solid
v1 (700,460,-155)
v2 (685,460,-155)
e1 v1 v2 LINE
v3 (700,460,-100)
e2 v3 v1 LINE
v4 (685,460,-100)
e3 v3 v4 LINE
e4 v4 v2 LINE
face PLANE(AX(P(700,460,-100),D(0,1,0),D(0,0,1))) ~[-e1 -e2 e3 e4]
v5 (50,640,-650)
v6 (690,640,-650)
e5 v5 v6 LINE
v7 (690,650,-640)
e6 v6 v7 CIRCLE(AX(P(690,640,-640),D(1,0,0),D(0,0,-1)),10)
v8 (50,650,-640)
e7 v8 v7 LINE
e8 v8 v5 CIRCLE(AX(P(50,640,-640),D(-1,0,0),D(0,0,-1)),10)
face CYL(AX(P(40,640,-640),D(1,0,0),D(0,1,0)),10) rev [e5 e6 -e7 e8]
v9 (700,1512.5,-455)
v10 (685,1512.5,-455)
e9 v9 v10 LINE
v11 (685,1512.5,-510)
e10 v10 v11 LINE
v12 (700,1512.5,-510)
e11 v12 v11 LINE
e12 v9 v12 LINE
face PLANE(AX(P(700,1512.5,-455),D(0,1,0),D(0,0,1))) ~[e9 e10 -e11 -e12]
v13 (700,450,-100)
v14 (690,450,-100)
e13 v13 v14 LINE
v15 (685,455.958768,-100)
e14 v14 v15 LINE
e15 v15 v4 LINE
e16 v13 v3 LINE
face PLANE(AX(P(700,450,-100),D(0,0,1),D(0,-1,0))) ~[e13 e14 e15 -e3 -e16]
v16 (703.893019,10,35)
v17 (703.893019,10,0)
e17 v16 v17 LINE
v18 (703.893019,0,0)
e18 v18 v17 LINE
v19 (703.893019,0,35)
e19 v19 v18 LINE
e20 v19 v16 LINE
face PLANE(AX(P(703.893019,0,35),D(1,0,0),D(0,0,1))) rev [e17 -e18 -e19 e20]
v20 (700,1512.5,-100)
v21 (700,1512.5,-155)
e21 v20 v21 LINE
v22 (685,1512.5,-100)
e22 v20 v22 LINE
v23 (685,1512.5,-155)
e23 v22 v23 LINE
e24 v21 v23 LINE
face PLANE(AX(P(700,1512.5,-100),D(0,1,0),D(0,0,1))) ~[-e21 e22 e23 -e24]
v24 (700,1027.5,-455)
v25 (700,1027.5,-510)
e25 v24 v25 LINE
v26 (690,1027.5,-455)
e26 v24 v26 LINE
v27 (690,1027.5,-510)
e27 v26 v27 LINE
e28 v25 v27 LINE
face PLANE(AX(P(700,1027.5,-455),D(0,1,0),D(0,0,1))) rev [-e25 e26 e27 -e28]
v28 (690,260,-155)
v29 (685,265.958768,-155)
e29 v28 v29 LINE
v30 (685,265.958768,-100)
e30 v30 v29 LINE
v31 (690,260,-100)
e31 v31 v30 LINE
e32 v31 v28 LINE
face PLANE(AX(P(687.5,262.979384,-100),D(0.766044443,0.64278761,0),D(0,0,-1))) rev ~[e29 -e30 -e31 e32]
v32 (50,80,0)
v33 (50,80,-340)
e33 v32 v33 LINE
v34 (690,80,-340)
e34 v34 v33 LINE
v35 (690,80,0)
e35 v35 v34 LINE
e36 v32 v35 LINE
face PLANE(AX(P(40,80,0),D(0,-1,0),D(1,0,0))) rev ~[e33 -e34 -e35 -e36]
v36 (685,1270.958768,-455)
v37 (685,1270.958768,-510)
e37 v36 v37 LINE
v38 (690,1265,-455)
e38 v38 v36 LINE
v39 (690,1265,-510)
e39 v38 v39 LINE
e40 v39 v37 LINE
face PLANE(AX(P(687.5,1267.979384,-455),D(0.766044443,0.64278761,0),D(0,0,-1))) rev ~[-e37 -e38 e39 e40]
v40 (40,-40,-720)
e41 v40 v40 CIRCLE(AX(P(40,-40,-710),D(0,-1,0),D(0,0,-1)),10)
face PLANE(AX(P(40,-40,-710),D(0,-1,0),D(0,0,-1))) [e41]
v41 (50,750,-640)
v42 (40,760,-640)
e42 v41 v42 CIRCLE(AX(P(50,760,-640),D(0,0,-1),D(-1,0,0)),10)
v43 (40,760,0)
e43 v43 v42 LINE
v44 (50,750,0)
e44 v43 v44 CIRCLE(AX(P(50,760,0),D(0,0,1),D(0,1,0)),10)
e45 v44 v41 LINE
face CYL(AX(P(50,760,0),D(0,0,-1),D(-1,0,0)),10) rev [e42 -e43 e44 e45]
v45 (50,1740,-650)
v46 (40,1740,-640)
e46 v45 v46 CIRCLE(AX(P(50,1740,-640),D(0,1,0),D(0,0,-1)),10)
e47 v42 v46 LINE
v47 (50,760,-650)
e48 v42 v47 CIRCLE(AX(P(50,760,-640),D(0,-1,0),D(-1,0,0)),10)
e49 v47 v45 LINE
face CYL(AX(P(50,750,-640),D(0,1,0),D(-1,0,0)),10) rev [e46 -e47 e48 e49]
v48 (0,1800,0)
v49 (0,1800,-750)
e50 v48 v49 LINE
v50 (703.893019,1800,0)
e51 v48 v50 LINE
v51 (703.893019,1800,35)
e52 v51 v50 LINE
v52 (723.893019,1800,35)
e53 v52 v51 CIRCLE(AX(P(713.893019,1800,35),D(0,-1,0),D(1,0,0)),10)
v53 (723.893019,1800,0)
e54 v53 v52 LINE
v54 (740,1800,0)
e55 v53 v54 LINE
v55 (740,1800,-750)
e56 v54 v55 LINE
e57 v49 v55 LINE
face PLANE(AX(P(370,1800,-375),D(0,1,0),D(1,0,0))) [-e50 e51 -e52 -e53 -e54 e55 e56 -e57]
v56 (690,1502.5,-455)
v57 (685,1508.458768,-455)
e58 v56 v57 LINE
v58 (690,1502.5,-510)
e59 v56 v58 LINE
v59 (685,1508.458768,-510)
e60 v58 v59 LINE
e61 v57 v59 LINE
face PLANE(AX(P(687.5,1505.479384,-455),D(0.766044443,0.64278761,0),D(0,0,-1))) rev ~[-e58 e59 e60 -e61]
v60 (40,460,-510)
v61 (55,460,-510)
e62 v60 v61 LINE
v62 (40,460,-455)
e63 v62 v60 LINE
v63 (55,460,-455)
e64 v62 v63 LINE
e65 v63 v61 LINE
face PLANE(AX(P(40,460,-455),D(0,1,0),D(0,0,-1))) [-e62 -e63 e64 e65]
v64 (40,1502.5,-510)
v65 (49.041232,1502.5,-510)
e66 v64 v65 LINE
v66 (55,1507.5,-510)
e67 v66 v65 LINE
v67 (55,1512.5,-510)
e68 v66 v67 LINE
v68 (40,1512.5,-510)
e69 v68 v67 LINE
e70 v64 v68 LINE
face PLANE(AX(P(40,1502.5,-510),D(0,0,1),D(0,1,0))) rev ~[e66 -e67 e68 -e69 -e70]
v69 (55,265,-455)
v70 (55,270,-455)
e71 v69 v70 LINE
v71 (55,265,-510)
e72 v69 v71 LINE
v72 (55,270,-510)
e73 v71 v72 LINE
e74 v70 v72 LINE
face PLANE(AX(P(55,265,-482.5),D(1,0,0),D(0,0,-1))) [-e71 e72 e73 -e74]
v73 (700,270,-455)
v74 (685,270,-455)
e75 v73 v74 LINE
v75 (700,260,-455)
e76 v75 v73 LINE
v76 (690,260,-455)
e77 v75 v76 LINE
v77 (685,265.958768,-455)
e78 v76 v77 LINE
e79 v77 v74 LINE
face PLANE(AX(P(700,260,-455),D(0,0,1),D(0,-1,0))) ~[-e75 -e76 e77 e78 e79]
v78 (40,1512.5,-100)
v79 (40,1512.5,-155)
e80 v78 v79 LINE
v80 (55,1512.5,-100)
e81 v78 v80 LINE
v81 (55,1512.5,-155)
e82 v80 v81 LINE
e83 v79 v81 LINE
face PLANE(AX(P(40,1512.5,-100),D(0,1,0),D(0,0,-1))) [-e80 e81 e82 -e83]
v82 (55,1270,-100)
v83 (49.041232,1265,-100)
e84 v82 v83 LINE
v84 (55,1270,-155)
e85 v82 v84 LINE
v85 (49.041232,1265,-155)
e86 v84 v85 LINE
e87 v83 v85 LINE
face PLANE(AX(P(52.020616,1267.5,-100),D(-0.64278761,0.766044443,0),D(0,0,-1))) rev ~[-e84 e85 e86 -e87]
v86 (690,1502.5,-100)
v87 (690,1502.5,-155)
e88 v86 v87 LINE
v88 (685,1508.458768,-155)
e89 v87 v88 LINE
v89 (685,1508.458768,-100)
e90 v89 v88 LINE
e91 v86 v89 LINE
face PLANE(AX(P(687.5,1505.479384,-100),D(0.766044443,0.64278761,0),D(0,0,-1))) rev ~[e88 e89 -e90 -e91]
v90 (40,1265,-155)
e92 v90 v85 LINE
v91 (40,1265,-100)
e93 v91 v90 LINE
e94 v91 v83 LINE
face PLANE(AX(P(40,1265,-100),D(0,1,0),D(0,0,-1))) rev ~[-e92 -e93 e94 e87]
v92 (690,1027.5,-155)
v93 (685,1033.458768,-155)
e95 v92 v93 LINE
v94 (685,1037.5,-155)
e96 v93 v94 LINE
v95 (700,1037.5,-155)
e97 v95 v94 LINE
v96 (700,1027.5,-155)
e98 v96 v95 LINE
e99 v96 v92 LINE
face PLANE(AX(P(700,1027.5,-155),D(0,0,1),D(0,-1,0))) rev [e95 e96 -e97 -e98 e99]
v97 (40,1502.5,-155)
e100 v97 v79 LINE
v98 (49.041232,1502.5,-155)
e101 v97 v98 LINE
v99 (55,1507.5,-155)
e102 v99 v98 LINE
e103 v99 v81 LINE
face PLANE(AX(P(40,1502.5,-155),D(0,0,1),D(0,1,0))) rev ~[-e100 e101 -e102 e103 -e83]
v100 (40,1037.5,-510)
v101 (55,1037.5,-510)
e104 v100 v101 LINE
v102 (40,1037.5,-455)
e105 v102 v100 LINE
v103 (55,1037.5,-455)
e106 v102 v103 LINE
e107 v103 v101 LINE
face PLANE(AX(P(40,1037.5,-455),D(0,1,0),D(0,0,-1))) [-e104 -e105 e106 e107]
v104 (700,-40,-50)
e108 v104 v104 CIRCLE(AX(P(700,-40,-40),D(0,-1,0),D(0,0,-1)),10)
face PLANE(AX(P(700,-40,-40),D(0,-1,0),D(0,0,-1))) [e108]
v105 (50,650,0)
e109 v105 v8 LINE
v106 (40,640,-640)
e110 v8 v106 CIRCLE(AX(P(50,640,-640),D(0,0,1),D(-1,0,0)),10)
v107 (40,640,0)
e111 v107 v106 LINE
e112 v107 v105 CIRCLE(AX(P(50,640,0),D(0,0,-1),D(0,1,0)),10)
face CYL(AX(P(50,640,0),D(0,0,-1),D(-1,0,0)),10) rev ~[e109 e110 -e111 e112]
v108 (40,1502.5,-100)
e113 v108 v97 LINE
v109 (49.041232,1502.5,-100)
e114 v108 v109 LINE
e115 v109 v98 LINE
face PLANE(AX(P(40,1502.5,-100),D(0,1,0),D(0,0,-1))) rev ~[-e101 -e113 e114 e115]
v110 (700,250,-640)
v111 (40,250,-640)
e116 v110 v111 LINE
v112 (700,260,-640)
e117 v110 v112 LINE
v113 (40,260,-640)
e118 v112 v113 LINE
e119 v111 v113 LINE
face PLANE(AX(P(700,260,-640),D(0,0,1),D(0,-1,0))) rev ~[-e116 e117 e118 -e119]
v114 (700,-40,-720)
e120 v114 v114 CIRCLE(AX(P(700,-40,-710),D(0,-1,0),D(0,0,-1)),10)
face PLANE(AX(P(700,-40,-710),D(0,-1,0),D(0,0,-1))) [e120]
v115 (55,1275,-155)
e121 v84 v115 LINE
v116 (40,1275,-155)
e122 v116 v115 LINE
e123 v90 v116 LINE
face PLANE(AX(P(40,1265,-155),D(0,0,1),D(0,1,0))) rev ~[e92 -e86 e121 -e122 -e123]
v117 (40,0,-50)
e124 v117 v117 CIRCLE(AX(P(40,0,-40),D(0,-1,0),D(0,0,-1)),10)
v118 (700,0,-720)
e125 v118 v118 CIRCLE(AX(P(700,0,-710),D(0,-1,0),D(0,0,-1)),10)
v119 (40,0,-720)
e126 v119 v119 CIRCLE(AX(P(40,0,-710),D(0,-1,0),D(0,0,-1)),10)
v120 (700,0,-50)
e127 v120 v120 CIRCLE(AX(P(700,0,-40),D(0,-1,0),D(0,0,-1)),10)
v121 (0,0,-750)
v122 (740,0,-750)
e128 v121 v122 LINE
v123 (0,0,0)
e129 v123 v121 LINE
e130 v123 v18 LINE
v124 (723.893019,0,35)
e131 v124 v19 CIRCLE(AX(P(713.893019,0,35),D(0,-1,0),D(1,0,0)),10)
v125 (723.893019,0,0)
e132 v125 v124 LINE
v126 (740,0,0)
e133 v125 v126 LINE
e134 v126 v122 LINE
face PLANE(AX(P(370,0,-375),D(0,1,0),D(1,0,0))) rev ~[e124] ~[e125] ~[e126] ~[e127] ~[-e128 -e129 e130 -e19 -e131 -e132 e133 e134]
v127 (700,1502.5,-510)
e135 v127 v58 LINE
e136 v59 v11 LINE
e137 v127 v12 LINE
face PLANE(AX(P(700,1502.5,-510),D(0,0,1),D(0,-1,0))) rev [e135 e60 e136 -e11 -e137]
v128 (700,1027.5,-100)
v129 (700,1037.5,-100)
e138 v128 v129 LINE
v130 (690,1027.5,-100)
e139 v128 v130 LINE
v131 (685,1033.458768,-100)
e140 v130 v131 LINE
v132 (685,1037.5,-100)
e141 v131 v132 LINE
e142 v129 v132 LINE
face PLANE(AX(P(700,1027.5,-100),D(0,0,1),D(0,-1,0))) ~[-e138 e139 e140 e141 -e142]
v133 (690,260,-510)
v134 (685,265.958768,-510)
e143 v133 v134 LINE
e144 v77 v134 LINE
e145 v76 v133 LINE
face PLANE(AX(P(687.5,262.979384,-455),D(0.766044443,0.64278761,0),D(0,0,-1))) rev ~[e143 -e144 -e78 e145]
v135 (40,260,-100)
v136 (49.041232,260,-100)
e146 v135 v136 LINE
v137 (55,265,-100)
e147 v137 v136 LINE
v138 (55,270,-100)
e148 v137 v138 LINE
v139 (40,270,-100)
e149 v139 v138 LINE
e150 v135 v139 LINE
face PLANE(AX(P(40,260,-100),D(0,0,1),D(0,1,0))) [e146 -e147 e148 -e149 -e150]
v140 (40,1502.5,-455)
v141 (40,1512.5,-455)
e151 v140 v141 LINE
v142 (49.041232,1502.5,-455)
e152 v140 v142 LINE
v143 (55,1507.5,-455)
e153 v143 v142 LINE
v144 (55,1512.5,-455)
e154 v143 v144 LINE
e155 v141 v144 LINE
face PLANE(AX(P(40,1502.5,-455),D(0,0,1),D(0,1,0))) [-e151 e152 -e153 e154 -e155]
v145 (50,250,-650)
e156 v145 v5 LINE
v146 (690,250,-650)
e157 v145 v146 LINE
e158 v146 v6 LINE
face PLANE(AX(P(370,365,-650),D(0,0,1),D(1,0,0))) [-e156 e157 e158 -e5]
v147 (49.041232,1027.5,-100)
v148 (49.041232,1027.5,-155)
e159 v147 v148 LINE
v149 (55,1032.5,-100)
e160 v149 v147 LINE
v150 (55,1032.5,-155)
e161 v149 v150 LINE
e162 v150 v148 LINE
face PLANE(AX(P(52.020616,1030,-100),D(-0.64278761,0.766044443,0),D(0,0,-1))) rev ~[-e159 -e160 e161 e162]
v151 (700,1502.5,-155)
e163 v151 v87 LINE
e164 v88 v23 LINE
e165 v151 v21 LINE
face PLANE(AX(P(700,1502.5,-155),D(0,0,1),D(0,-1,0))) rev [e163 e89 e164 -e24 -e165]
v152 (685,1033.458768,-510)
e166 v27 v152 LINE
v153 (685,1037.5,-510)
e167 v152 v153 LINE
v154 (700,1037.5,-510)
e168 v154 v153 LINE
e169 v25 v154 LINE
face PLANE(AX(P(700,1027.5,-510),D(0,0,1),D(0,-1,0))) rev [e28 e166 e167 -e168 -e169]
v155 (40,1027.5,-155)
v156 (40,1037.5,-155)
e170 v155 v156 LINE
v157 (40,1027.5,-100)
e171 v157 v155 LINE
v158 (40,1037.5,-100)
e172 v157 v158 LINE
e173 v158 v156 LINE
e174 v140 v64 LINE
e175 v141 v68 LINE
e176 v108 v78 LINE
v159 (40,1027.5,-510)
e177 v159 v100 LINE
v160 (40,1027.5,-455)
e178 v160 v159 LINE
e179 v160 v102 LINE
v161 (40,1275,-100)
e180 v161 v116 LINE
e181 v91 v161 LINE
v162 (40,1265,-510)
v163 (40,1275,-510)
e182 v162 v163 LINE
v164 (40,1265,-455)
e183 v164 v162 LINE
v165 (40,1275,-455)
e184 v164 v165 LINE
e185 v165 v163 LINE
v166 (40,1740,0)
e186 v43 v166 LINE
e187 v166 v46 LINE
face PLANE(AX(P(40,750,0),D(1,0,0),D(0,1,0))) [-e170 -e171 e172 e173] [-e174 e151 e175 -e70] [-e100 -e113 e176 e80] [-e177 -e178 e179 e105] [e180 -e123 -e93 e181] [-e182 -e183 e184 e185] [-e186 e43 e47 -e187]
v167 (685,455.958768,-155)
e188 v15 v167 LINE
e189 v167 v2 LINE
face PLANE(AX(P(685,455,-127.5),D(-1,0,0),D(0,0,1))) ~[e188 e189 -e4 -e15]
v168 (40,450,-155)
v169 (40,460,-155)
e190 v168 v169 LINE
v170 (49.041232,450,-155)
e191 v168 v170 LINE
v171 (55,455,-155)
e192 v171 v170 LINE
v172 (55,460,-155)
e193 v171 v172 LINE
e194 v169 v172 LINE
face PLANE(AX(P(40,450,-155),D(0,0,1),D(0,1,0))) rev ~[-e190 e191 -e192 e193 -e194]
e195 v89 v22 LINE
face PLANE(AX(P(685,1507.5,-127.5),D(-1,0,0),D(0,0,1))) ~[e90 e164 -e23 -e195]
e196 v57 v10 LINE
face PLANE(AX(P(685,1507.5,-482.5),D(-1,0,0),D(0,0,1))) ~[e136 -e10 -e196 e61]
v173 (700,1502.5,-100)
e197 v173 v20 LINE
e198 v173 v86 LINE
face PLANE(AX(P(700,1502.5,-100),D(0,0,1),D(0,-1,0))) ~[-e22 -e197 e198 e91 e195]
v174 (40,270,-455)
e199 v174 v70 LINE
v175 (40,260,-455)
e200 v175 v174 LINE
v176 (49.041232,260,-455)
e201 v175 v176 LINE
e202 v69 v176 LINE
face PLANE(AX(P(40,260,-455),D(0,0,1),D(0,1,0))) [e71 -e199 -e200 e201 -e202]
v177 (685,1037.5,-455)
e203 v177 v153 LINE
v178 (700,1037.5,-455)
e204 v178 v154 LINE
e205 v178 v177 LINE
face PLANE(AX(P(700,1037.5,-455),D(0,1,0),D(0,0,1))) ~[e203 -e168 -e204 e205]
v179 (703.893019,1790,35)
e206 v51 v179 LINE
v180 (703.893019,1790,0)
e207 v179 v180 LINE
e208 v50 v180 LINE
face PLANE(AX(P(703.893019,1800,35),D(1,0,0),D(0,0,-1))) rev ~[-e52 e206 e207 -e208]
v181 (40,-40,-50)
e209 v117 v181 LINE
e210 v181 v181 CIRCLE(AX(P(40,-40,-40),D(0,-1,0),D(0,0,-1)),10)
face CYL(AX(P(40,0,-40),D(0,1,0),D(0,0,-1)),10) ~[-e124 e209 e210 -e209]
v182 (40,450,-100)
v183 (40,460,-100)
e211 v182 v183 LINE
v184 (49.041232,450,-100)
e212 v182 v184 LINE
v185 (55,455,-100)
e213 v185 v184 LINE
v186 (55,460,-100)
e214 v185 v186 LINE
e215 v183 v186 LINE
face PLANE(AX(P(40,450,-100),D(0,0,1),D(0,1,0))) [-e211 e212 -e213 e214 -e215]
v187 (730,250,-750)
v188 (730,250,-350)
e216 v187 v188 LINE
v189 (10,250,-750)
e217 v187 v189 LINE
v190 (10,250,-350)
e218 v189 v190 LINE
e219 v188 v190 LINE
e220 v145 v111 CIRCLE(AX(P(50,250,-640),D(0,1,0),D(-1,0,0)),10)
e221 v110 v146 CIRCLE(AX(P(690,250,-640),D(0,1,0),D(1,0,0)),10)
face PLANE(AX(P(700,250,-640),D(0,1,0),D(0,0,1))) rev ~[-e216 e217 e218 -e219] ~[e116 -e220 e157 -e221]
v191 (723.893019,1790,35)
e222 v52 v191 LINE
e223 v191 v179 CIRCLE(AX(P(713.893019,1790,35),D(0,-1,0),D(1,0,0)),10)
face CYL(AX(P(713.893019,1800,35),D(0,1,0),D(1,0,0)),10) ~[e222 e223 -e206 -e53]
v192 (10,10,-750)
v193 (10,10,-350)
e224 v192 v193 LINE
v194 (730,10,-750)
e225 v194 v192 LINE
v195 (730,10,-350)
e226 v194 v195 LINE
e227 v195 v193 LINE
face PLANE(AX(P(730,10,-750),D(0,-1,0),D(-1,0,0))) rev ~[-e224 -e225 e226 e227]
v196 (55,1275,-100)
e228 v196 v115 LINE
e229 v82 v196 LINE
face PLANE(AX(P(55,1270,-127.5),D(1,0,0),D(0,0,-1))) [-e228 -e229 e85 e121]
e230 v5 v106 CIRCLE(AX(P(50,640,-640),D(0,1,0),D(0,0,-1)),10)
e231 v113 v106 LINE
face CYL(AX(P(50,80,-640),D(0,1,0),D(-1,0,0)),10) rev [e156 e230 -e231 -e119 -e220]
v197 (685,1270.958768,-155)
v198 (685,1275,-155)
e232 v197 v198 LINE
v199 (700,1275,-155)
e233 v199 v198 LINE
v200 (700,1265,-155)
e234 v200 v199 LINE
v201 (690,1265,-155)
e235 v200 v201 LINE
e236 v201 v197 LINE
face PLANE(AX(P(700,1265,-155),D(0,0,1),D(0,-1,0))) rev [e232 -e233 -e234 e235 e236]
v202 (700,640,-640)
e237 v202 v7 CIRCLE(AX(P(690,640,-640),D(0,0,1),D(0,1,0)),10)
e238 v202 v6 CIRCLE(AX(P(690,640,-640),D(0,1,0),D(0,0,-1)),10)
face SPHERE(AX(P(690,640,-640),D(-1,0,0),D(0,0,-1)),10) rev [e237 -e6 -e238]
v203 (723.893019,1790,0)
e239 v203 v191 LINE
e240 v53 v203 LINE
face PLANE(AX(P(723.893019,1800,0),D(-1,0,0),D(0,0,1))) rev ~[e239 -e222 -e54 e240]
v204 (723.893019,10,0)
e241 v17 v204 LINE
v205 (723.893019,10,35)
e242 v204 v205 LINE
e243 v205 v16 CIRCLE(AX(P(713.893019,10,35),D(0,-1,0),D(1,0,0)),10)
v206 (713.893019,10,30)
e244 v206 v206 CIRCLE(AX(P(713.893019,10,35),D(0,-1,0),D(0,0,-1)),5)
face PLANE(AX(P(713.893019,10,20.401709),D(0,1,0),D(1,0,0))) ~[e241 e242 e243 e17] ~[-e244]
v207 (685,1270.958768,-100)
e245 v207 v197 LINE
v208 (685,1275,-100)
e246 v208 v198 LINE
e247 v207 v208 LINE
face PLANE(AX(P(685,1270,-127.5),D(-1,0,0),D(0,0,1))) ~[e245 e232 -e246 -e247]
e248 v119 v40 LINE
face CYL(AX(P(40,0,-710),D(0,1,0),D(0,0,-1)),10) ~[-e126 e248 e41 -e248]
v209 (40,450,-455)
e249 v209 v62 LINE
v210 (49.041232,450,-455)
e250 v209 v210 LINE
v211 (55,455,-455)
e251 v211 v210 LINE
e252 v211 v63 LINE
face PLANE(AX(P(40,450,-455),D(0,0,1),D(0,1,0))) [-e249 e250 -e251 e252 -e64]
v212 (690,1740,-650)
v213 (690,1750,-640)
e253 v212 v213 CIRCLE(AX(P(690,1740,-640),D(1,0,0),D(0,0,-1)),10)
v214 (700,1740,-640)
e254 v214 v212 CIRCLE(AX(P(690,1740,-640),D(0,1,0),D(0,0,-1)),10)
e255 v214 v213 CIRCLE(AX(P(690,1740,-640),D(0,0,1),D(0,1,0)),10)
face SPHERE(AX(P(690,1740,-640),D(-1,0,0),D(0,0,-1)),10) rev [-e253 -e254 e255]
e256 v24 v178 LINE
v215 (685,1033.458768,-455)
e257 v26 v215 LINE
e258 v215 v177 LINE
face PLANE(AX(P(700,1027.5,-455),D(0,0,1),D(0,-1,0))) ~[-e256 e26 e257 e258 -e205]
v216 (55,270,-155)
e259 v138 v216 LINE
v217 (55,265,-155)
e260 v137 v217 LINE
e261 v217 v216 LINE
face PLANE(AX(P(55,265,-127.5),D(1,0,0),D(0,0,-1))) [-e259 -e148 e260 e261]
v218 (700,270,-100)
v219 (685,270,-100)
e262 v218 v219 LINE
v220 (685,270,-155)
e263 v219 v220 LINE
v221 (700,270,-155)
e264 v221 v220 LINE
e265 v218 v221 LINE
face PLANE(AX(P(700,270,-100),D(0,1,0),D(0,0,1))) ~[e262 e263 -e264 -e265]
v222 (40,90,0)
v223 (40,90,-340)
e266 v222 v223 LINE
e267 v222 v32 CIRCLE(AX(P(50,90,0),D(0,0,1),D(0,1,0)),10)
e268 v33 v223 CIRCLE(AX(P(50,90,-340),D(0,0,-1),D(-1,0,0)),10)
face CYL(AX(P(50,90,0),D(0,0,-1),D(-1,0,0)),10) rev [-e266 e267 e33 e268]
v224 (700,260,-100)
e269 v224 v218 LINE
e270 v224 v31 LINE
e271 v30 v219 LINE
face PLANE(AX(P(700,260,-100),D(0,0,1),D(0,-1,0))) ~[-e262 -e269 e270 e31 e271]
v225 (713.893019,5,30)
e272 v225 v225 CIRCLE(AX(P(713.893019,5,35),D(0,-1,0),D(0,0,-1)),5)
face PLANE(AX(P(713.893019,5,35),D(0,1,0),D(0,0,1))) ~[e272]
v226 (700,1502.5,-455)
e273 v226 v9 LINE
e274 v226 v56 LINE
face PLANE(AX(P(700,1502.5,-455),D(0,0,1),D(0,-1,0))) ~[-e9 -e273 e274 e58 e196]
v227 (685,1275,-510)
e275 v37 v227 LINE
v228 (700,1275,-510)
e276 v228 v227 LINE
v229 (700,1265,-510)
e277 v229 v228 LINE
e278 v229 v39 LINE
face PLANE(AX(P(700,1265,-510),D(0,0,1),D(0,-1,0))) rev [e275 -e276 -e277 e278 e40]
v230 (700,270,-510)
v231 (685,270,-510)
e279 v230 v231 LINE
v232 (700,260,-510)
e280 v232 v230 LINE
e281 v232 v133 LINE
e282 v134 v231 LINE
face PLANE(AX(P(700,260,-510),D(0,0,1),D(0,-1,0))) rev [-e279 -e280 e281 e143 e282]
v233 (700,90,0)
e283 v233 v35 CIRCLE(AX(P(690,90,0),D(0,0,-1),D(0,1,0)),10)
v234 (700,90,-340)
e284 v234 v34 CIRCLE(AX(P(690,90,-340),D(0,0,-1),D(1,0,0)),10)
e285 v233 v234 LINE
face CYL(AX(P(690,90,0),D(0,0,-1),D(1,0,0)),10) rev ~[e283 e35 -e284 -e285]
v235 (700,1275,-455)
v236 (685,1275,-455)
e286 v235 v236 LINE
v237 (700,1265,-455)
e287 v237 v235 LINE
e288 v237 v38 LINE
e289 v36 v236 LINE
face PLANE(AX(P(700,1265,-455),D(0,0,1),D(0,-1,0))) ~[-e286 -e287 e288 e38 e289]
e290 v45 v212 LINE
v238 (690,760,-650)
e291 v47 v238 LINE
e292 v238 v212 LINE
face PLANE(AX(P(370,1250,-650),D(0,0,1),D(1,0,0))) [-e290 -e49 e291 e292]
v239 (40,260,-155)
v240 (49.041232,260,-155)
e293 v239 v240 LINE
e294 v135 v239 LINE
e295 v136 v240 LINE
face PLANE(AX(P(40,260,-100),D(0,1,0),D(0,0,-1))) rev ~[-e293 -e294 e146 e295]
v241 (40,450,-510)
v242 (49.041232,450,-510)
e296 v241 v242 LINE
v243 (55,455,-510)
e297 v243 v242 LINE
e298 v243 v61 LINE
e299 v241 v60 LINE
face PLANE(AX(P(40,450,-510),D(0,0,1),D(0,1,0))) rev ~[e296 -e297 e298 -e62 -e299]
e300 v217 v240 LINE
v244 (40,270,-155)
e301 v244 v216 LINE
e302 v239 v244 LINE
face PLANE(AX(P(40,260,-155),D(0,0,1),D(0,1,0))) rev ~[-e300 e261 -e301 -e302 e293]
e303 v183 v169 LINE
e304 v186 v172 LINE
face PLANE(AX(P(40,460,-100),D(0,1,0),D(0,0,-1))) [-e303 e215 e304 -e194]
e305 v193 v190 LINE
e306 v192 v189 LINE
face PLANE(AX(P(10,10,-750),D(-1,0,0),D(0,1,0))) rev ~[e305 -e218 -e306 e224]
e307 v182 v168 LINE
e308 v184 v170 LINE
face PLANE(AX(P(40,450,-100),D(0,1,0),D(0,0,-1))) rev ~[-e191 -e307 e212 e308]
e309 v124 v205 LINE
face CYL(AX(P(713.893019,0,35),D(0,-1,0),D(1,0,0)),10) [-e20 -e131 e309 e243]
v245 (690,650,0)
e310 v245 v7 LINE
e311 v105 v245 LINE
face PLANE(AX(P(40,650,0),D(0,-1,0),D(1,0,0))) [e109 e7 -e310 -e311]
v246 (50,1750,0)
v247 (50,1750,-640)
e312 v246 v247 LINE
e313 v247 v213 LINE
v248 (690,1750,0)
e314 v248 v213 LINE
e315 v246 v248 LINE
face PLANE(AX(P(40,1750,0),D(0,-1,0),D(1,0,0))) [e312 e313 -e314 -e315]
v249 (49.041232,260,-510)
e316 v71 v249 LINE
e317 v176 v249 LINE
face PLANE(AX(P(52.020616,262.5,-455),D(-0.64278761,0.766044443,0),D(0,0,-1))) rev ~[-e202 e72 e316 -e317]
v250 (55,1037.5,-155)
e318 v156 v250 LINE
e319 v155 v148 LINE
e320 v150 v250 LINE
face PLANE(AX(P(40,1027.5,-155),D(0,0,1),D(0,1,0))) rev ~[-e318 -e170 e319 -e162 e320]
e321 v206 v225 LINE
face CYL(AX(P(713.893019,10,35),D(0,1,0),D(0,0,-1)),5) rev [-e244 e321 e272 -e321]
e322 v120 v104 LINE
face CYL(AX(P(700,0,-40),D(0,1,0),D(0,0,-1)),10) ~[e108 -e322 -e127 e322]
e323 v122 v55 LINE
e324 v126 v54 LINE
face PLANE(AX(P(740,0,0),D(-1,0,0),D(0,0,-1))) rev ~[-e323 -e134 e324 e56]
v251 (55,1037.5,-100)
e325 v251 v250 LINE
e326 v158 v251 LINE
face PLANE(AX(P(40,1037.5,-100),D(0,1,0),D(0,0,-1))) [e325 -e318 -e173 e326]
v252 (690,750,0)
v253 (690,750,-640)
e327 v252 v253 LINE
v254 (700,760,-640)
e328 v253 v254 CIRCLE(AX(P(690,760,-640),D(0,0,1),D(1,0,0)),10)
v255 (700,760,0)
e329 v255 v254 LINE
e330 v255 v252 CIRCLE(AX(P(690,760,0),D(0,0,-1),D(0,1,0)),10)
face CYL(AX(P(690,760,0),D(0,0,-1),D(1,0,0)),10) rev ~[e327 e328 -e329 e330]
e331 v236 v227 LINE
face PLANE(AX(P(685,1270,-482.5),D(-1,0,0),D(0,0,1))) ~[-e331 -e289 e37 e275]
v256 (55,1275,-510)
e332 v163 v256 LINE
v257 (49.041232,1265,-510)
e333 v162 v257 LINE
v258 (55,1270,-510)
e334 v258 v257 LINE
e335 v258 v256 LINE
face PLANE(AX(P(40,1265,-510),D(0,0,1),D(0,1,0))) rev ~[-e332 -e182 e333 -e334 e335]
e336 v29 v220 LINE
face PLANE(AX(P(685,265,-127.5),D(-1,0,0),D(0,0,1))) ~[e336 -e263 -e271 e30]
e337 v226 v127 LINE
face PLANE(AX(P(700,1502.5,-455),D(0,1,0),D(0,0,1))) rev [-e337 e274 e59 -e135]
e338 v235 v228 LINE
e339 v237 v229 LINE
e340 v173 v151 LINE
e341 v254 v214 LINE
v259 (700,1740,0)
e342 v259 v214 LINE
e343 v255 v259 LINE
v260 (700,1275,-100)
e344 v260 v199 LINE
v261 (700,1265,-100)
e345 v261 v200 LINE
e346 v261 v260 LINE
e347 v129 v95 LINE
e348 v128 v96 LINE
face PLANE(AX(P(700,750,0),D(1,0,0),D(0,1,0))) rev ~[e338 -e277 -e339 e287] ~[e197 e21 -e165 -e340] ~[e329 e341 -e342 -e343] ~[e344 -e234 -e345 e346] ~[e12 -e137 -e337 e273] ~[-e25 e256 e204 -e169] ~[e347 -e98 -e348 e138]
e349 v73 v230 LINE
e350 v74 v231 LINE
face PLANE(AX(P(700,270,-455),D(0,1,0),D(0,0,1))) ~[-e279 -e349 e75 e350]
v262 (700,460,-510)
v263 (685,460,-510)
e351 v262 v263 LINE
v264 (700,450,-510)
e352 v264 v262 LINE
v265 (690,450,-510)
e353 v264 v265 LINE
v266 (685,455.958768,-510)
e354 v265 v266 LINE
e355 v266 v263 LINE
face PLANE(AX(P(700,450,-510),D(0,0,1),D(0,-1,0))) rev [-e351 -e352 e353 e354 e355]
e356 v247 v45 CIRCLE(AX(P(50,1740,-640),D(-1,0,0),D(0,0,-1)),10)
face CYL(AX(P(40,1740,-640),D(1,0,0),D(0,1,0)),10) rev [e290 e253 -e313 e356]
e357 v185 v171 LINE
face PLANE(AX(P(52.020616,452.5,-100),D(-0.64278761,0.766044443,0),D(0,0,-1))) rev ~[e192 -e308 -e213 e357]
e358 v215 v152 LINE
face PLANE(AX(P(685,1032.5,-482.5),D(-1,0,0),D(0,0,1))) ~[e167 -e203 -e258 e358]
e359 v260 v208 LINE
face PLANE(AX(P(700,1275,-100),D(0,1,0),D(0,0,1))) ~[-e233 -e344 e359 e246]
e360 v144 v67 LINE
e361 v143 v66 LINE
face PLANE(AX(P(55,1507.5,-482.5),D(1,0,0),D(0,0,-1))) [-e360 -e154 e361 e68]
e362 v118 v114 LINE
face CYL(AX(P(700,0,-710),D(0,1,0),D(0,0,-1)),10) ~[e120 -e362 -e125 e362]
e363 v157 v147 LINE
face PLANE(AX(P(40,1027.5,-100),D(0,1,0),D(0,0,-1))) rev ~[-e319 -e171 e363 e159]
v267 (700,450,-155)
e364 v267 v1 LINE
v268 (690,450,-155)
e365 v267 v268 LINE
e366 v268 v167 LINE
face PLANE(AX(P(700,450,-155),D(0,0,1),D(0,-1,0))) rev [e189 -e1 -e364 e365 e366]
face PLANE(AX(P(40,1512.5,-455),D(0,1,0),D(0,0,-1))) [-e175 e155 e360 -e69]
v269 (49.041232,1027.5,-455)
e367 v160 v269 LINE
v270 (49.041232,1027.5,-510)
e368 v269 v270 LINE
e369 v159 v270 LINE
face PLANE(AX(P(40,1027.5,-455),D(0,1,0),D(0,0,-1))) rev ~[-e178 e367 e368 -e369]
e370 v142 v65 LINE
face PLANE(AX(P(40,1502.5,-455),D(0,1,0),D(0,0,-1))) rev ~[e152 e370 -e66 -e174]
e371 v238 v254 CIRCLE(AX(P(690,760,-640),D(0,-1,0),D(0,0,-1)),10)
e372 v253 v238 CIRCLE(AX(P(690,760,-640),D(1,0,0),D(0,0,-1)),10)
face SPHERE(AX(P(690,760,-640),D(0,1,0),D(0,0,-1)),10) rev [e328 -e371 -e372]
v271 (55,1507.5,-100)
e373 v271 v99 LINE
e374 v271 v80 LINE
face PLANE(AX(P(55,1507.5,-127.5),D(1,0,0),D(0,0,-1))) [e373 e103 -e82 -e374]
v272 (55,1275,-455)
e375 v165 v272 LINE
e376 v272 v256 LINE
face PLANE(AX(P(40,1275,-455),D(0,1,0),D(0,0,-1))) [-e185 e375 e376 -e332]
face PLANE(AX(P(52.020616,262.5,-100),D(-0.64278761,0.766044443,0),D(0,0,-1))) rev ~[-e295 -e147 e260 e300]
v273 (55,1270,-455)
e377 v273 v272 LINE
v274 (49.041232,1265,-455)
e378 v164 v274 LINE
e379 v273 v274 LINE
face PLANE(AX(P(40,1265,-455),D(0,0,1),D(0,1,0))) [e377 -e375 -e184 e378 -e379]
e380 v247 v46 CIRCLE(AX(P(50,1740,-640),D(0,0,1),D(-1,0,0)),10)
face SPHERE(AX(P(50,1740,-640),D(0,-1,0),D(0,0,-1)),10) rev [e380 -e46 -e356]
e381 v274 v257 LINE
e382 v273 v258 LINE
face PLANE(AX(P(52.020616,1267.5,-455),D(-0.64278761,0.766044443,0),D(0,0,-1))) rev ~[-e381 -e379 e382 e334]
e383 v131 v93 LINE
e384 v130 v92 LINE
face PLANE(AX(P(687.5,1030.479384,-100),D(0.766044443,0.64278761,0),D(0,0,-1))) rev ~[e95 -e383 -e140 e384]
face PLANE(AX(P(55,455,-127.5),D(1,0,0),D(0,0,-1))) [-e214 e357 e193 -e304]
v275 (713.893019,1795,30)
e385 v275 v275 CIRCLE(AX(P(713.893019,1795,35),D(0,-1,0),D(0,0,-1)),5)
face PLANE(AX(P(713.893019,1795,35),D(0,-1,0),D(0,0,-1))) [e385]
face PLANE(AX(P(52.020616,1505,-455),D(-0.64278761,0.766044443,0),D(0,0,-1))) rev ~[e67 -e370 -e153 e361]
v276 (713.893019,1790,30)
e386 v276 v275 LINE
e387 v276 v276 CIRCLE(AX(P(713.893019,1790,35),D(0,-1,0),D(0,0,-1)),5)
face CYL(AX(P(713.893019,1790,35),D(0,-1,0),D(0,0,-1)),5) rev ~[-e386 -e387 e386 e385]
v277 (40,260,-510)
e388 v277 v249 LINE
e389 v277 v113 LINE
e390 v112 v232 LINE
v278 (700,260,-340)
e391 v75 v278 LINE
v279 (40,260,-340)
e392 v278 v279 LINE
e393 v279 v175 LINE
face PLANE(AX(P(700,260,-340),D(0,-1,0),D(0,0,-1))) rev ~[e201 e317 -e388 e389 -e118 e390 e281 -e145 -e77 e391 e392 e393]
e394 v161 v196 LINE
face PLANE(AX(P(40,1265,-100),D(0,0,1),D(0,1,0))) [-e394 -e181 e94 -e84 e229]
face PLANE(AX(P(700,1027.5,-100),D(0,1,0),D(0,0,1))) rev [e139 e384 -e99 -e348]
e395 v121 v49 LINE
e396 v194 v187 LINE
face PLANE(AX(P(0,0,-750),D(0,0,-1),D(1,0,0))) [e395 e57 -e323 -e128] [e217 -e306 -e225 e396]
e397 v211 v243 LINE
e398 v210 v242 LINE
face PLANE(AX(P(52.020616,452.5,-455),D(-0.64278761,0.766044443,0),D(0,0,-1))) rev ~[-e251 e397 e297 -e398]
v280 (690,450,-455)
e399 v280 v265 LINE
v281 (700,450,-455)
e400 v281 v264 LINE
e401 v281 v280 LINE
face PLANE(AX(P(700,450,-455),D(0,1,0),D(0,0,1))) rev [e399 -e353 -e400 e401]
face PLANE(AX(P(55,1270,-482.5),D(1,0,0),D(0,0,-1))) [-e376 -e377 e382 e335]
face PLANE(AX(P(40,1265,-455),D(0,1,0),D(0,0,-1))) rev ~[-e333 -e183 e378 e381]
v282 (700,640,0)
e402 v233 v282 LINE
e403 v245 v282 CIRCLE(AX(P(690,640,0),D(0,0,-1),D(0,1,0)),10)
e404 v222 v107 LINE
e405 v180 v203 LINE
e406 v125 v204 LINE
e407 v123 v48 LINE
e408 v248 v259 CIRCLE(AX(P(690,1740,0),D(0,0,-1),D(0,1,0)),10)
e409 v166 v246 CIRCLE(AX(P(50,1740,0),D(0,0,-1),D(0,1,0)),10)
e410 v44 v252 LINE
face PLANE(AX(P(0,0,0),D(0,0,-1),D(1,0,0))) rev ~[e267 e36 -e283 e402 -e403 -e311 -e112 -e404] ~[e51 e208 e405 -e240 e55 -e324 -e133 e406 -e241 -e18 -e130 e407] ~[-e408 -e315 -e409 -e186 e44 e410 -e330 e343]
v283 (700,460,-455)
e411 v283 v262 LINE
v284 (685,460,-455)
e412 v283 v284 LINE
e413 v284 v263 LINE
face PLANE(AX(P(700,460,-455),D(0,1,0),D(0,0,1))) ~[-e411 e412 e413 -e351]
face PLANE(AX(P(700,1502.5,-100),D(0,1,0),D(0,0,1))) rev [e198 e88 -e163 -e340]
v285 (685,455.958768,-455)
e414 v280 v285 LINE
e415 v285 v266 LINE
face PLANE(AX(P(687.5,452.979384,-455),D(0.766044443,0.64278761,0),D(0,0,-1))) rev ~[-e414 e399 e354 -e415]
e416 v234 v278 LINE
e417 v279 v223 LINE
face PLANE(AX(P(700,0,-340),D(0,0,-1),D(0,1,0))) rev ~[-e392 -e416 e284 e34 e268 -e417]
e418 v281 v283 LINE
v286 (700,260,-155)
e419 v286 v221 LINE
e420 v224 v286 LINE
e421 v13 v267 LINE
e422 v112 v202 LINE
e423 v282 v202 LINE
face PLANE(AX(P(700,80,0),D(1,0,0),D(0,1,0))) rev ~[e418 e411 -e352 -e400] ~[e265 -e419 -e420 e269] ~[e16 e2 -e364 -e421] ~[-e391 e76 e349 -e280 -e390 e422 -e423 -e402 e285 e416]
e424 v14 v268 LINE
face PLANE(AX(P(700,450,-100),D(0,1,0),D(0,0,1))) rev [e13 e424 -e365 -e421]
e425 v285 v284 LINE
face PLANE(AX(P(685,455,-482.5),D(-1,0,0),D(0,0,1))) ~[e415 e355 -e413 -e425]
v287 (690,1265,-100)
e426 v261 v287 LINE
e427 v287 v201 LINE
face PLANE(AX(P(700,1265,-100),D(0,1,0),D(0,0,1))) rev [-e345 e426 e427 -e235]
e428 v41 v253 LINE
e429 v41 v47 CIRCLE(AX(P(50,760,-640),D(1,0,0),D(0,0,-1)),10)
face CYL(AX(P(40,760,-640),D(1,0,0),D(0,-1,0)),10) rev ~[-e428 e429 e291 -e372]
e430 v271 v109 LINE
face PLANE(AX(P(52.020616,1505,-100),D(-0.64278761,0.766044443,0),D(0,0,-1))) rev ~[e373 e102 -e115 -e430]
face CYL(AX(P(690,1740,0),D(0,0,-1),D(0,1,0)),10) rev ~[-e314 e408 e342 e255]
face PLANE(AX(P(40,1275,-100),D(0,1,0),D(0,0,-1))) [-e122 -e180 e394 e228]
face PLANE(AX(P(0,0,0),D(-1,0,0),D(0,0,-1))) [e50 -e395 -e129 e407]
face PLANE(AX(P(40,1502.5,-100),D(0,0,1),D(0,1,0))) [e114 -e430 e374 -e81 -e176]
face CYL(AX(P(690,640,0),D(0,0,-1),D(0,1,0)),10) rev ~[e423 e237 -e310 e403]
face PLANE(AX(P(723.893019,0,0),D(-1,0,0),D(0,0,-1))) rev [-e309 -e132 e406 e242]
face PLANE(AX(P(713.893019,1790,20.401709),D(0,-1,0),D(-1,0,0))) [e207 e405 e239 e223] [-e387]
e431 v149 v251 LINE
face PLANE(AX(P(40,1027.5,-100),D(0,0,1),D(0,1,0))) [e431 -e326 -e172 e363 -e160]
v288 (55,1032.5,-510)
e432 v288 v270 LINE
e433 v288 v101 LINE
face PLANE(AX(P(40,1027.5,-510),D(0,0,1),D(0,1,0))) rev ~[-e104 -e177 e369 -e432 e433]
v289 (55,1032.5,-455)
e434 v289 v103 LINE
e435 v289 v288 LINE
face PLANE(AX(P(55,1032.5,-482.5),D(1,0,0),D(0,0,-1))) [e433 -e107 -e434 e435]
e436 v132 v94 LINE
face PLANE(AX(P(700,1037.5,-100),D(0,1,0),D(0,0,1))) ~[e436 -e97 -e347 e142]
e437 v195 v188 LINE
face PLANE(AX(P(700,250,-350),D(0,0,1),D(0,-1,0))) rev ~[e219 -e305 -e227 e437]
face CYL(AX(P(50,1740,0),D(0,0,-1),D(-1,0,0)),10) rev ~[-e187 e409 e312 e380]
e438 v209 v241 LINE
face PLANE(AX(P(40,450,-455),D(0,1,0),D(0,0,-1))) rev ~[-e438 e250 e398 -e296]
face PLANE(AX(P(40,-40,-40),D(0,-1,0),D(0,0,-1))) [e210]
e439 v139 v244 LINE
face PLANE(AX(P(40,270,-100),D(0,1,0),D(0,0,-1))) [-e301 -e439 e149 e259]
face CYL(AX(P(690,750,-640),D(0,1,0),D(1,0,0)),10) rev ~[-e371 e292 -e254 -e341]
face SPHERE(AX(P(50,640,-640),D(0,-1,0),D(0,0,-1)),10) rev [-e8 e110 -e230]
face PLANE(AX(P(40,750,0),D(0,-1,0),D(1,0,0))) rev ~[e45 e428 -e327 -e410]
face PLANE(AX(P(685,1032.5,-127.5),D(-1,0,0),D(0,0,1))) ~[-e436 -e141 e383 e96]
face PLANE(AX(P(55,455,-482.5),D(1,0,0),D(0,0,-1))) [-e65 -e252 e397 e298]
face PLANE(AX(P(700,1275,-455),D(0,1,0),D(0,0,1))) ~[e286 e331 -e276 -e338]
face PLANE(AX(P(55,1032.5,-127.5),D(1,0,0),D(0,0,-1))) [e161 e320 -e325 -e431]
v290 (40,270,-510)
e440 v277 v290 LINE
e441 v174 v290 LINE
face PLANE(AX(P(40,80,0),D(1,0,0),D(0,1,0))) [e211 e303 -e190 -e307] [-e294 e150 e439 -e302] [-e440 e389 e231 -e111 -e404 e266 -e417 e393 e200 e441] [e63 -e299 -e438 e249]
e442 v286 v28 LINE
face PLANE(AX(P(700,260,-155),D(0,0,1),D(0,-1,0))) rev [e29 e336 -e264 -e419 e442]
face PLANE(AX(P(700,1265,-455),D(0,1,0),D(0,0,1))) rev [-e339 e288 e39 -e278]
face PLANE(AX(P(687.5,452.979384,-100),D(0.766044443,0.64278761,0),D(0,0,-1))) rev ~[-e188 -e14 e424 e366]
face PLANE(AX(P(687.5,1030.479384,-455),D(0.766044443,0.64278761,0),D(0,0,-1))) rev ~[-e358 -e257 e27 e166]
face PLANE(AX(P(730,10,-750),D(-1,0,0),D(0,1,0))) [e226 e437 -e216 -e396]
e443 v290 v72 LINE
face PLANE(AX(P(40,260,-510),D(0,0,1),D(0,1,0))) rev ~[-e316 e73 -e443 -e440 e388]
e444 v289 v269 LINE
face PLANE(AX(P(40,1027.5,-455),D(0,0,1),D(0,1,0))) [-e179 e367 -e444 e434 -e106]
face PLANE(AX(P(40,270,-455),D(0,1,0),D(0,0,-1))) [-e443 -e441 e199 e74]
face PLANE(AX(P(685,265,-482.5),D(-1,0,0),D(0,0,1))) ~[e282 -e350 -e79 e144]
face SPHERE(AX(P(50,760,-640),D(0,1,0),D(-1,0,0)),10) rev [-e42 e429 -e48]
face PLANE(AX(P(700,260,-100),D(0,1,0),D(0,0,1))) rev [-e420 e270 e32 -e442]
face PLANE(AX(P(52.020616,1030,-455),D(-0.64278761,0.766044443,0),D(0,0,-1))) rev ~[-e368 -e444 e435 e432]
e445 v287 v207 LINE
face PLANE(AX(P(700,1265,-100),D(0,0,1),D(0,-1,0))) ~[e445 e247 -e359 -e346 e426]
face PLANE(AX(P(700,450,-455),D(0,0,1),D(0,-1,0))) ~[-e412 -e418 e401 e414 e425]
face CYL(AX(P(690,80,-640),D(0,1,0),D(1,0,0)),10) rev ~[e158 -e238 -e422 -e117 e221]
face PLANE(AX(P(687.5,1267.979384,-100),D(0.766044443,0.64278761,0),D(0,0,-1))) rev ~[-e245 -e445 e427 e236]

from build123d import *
from OCP.BRepFilletAPI import BRepFilletAPI_MakeChamfer

# Parameters (mm, degrees)
ESBO_O1_W                = 740
ESBO_O1_H                = 750
RESSALTO_EXTRUS_O1_DEPTH = 1800
ESBO_O5_W                = 660
ESBO_O5_H                = 1000
ESBO_O5_H_2              = 570
CORTE_EXTRUS_O1_DEPTH    = 650
FILETE1_R                = 10
ESBO_O7_R                = 10
RESSALTO_EXTRUS_O3_DEPTH = 40
ESBO_O10_W               = 55
ESBO_O10_H               = 10
RESSALTO_EXTRUS_O4_DEPTH = 15
ESBO_O14_W               = 55
ESBO_O14_H               = 10
RESSALTO_EXTRUS_O5_DEPTH = 15
CHANFRO1_SIZE            = 5
CHANFRO1_SIZE2           = 5.958767963
RESSALTO_EXTRUS_O6_DEPTH = 10
ESBO_O18_R               = 5
CORTE_EXTRUS_O2_DEPTH    = 5
ESBO_O19_W               = 720
ESBO_O19_H               = 240
CORTE_EXTRUS_O5_DEPTH    = 400
RESSALTO_EXTRUS_O8_REACH = 2073.835


with BuildPart() as part:
    # Esboço1 → Ressalto-extrusão1 (new body)
    with BuildSketch(Plane(origin=(0, 0, 0), x_dir=(1, 0, 0), z_dir=(0, 1, 0))):
        with Locations((370, 375)):
            Rectangle(ESBO_O1_W, ESBO_O1_H)
    extrude(amount=RESSALTO_EXTRUS_O1_DEPTH)

    # Esboço5 → Corte-extrusão1 (cut)
    with BuildSketch(Plane.XY):
        with Locations((370, 1250)):
            Rectangle(ESBO_O5_W, ESBO_O5_H)
        with Locations((370, 365)):
            Rectangle(ESBO_O5_W, ESBO_O5_H_2)
    extrude(amount=-CORTE_EXTRUS_O1_DEPTH, mode=Mode.SUBTRACT)

    # Filete1
    filete1_edges = [part.edges().sort_by_distance(p)[0] for p in [
        (40, 1250, -650),
        (40, 750, -325),
        (370, 1750, -650),
        (40, 1750, -325),
        (700, 1250, -650),
        (700, 1750, -325),
        (370, 750, -650),
        (700, 750, -325),
        (40, 365, -650),
        (40, 80, -325),
        (370, 650, -650),
        (40, 650, -325),
        (700, 365, -650),
        (700, 650, -325),
        (370, 80, -650),
        (700, 80, -325),
    ]]
    fillet(filete1_edges, radius=FILETE1_R)

    # Esboço7 → Ressalto-extrusão3 (add)
    with BuildSketch(Plane.XZ):
        with Locations(Location((40, -40, 0), (0, 0, 270))):
            Circle(ESBO_O7_R)
        with Locations(Location((700, -40, 0), (0, 0, 270))):
            Circle(ESBO_O7_R)
        with Locations(Location((700, -710, 0), (0, 0, 270))):
            Circle(ESBO_O7_R)
        with Locations(Location((40, -710, 0), (0, 0, 270))):
            Circle(ESBO_O7_R)
    extrude(amount=RESSALTO_EXTRUS_O3_DEPTH)

    # Esboço10 → Ressalto-extrusão4 (add)
    with BuildSketch(Plane(origin=(40, 0, 0), x_dir=(0, 0, -1), z_dir=(1, 0, 0))):
        with Locations((127.5, 1507.5)):
            Rectangle(ESBO_O10_W, ESBO_O10_H)
        with Locations((482.5, 1507.5)):
            Rectangle(ESBO_O10_W, ESBO_O10_H)
        with Locations((482.5, 1270)):
            Rectangle(ESBO_O10_W, ESBO_O10_H)
        with Locations((482.5, 1032.5)):
            Rectangle(ESBO_O10_W, ESBO_O10_H)
        with Locations((127.5, 1270)):
            Rectangle(ESBO_O10_W, ESBO_O10_H)
        with Locations((127.5, 1032.5)):
            Rectangle(ESBO_O10_W, ESBO_O10_H)
    ressalto_extrus_o4 = extrude(amount=RESSALTO_EXTRUS_O4_DEPTH)

    # Espelhar4: Ressalto-extrusão4 across plane
    add(ressalto_extrus_o4.mirror(Plane(origin=(370, 0, 0), x_dir=(0, 0, 1), z_dir=(1, 0, 0))))

    # Esboço14 → Ressalto-extrusão5 (add)
    with BuildSketch(Plane(origin=(40, 0, 0), x_dir=(0, 0, -1), z_dir=(1, 0, 0))):
        with Locations((127.5, 455)):
            Rectangle(ESBO_O14_W, ESBO_O14_H)
        with Locations((482.5, 455)):
            Rectangle(ESBO_O14_W, ESBO_O14_H)
        with Locations((482.5, 265)):
            Rectangle(ESBO_O14_W, ESBO_O14_H)
        with Locations((127.5, 265)):
            Rectangle(ESBO_O14_W, ESBO_O14_H)
    ressalto_extrus_o5 = extrude(amount=RESSALTO_EXTRUS_O5_DEPTH)

    # Espelhar5: Ressalto-extrusão5 across plane
    add(ressalto_extrus_o5.mirror(Plane(origin=(370, 0, 0), x_dir=(0, 0, 1), z_dir=(1, 0, 0))))

    # Chanfro1: one chamfer whose edges measure the first distance from different faces: ONE call of the kernel's chamfer builder (chamfer() names one face for all edges)
    chanfro1_edges_1 = [part.edges().sort_by_distance(p)[0] for p in [
        (55, 1502.5, -127.5),
    ]]
    chanfro1_side_1 = [part.faces().sort_by_distance(p)[0] for p in [
        (55, 1507.5, -127.5),
    ]]
    chanfro1_edges_2 = [part.edges().sort_by_distance(p)[0] for p in [
        (55, 1502.5, -482.5),
    ]]
    chanfro1_side_2 = [part.faces().sort_by_distance(p)[0] for p in [
        (55, 1507.5, -482.5),
    ]]
    chanfro1_edges_3 = [part.edges().sort_by_distance(p)[0] for p in [
        (55, 1265, -482.5),
    ]]
    chanfro1_side_3 = [part.faces().sort_by_distance(p)[0] for p in [
        (55, 1270, -482.5),
    ]]
    chanfro1_edges_4 = [part.edges().sort_by_distance(p)[0] for p in [
        (55, 1027.5, -482.5),
    ]]
    chanfro1_side_4 = [part.faces().sort_by_distance(p)[0] for p in [
        (55, 1032.5, -482.5),
    ]]
    chanfro1_edges_5 = [part.edges().sort_by_distance(p)[0] for p in [
        (55, 1265, -127.5),
    ]]
    chanfro1_side_5 = [part.faces().sort_by_distance(p)[0] for p in [
        (55, 1270, -127.5),
    ]]
    chanfro1_edges_6 = [part.edges().sort_by_distance(p)[0] for p in [
        (55, 1027.5, -127.5),
    ]]
    chanfro1_side_6 = [part.faces().sort_by_distance(p)[0] for p in [
        (55, 1032.5, -127.5),
    ]]
    chanfro1_edges_7 = [part.edges().sort_by_distance(p)[0] for p in [
        (685, 1502.5, -127.5),
    ]]
    chanfro1_side_7 = [part.faces().sort_by_distance(p)[0] for p in [
        (692.5, 1502.5, -127.5),
    ]]
    chanfro1_edges_8 = [part.edges().sort_by_distance(p)[0] for p in [
        (685, 1502.5, -482.5),
    ]]
    chanfro1_side_8 = [part.faces().sort_by_distance(p)[0] for p in [
        (692.5, 1502.5, -482.5),
    ]]
    chanfro1_edges_9 = [part.edges().sort_by_distance(p)[0] for p in [
        (685, 1265, -482.5),
    ]]
    chanfro1_side_9 = [part.faces().sort_by_distance(p)[0] for p in [
        (692.5, 1265, -482.5),
    ]]
    chanfro1_edges_10 = [part.edges().sort_by_distance(p)[0] for p in [
        (685, 1027.5, -482.5),
    ]]
    chanfro1_side_10 = [part.faces().sort_by_distance(p)[0] for p in [
        (692.5, 1027.5, -482.5),
    ]]
    chanfro1_edges_11 = [part.edges().sort_by_distance(p)[0] for p in [
        (685, 1265, -127.5),
    ]]
    chanfro1_side_11 = [part.faces().sort_by_distance(p)[0] for p in [
        (692.5, 1265, -127.5),
    ]]
    chanfro1_edges_12 = [part.edges().sort_by_distance(p)[0] for p in [
        (685, 1027.5, -127.5),
    ]]
    chanfro1_side_12 = [part.faces().sort_by_distance(p)[0] for p in [
        (692.5, 1027.5, -127.5),
    ]]
    chanfro1_edges_13 = [part.edges().sort_by_distance(p)[0] for p in [
        (55, 450, -127.5),
    ]]
    chanfro1_side_13 = [part.faces().sort_by_distance(p)[0] for p in [
        (55, 455, -127.5),
    ]]
    chanfro1_edges_14 = [part.edges().sort_by_distance(p)[0] for p in [
        (55, 450, -482.5),
    ]]
    chanfro1_side_14 = [part.faces().sort_by_distance(p)[0] for p in [
        (55, 455, -482.5),
    ]]
    chanfro1_edges_15 = [part.edges().sort_by_distance(p)[0] for p in [
        (55, 260, -482.5),
    ]]
    chanfro1_side_15 = [part.faces().sort_by_distance(p)[0] for p in [
        (55, 265, -482.5),
    ]]
    chanfro1_edges_16 = [part.edges().sort_by_distance(p)[0] for p in [
        (55, 260, -127.5),
    ]]
    chanfro1_side_16 = [part.faces().sort_by_distance(p)[0] for p in [
        (55, 265, -127.5),
    ]]
    chanfro1_edges_17 = [part.edges().sort_by_distance(p)[0] for p in [
        (685, 450, -127.5),
    ]]
    chanfro1_side_17 = [part.faces().sort_by_distance(p)[0] for p in [
        (692.5, 450, -127.5),
    ]]
    chanfro1_edges_18 = [part.edges().sort_by_distance(p)[0] for p in [
        (685, 450, -482.5),
    ]]
    chanfro1_side_18 = [part.faces().sort_by_distance(p)[0] for p in [
        (692.5, 450, -482.5),
    ]]
    chanfro1_edges_19 = [part.edges().sort_by_distance(p)[0] for p in [
        (685, 260, -482.5),
    ]]
    chanfro1_side_19 = [part.faces().sort_by_distance(p)[0] for p in [
        (692.5, 260, -482.5),
    ]]
    chanfro1_edges_20 = [part.edges().sort_by_distance(p)[0] for p in [
        (685, 260, -127.5),
    ]]
    chanfro1_side_20 = [part.faces().sort_by_distance(p)[0] for p in [
        (692.5, 260, -127.5),
    ]]
    chanfro1 = BRepFilletAPI_MakeChamfer(part.part.solid().wrapped)
    for e in chanfro1_edges_1:
        chanfro1.Add(CHANFRO1_SIZE, CHANFRO1_SIZE2, e.wrapped, chanfro1_side_1[0].wrapped)  # the first distance lies on this face
    for e in chanfro1_edges_2:
        chanfro1.Add(CHANFRO1_SIZE, CHANFRO1_SIZE2, e.wrapped, chanfro1_side_2[0].wrapped)  # the first distance lies on this face
    for e in chanfro1_edges_3:
        chanfro1.Add(CHANFRO1_SIZE, CHANFRO1_SIZE2, e.wrapped, chanfro1_side_3[0].wrapped)  # the first distance lies on this face
    for e in chanfro1_edges_4:
        chanfro1.Add(CHANFRO1_SIZE, CHANFRO1_SIZE2, e.wrapped, chanfro1_side_4[0].wrapped)  # the first distance lies on this face
    for e in chanfro1_edges_5:
        chanfro1.Add(CHANFRO1_SIZE, CHANFRO1_SIZE2, e.wrapped, chanfro1_side_5[0].wrapped)  # the first distance lies on this face
    for e in chanfro1_edges_6:
        chanfro1.Add(CHANFRO1_SIZE, CHANFRO1_SIZE2, e.wrapped, chanfro1_side_6[0].wrapped)  # the first distance lies on this face
    for e in chanfro1_edges_7:
        chanfro1.Add(CHANFRO1_SIZE, CHANFRO1_SIZE2, e.wrapped, chanfro1_side_7[0].wrapped)  # the first distance lies on this face
    for e in chanfro1_edges_8:
        chanfro1.Add(CHANFRO1_SIZE, CHANFRO1_SIZE2, e.wrapped, chanfro1_side_8[0].wrapped)  # the first distance lies on this face
    for e in chanfro1_edges_9:
        chanfro1.Add(CHANFRO1_SIZE, CHANFRO1_SIZE2, e.wrapped, chanfro1_side_9[0].wrapped)  # the first distance lies on this face
    for e in chanfro1_edges_10:
        chanfro1.Add(CHANFRO1_SIZE, CHANFRO1_SIZE2, e.wrapped, chanfro1_side_10[0].wrapped)  # the first distance lies on this face
    for e in chanfro1_edges_11:
        chanfro1.Add(CHANFRO1_SIZE, CHANFRO1_SIZE2, e.wrapped, chanfro1_side_11[0].wrapped)  # the first distance lies on this face
    for e in chanfro1_edges_12:
        chanfro1.Add(CHANFRO1_SIZE, CHANFRO1_SIZE2, e.wrapped, chanfro1_side_12[0].wrapped)  # the first distance lies on this face
    for e in chanfro1_edges_13:
        chanfro1.Add(CHANFRO1_SIZE, CHANFRO1_SIZE2, e.wrapped, chanfro1_side_13[0].wrapped)  # the first distance lies on this face
    for e in chanfro1_edges_14:
        chanfro1.Add(CHANFRO1_SIZE, CHANFRO1_SIZE2, e.wrapped, chanfro1_side_14[0].wrapped)  # the first distance lies on this face
    for e in chanfro1_edges_15:
        chanfro1.Add(CHANFRO1_SIZE, CHANFRO1_SIZE2, e.wrapped, chanfro1_side_15[0].wrapped)  # the first distance lies on this face
    for e in chanfro1_edges_16:
        chanfro1.Add(CHANFRO1_SIZE, CHANFRO1_SIZE2, e.wrapped, chanfro1_side_16[0].wrapped)  # the first distance lies on this face
    for e in chanfro1_edges_17:
        chanfro1.Add(CHANFRO1_SIZE, CHANFRO1_SIZE2, e.wrapped, chanfro1_side_17[0].wrapped)  # the first distance lies on this face
    for e in chanfro1_edges_18:
        chanfro1.Add(CHANFRO1_SIZE, CHANFRO1_SIZE2, e.wrapped, chanfro1_side_18[0].wrapped)  # the first distance lies on this face
    for e in chanfro1_edges_19:
        chanfro1.Add(CHANFRO1_SIZE, CHANFRO1_SIZE2, e.wrapped, chanfro1_side_19[0].wrapped)  # the first distance lies on this face
    for e in chanfro1_edges_20:
        chanfro1.Add(CHANFRO1_SIZE, CHANFRO1_SIZE2, e.wrapped, chanfro1_side_20[0].wrapped)  # the first distance lies on this face
    add(Compound.cast(chanfro1.Shape()), mode=Mode.REPLACE)

    # Esboço17 → Ressalto-extrusão6 (add)
    with BuildSketch(Plane(origin=(0, 1800, 0), x_dir=(1, 0, 0), z_dir=(0, 1, 0))):
        with BuildLine():
            Line((703.893019461, 0), (723.893019461, 0))
            Line((723.893019461, 0), (723.893019461, -35))
            ThreePointArc((723.893019461, -35), (713.893019461, -45), (703.893019461, -35))
            Line((703.893019461, -35), (703.893019461, 0))
        make_face()
    ressalto_extrus_o6 = extrude(amount=-RESSALTO_EXTRUS_O6_DEPTH)

    # Esboço18 → Corte-extrusão2 (cut)
    with BuildSketch(Plane.XZ.offset(-1790)):
        with Locations(Location((713.893019461, 35, 0), (0, 0, 270))):
            Circle(ESBO_O18_R)
    corte_extrus_o2 = extrude(amount=-CORTE_EXTRUS_O2_DEPTH, mode=Mode.SUBTRACT)

    # Espelhar6: Ressalto-extrusão6, Corte-extrusão2 across plane
    add(ressalto_extrus_o6.mirror(Plane.ZX.offset(900)))
    add(corte_extrus_o2.mirror(Plane.ZX.offset(900)), mode=Mode.SUBTRACT)

    # Esboço19 → Corte-extrusão5 (cut)
    with BuildSketch(Plane(origin=(0, 0, -750), x_dir=(-1, 0, 0), z_dir=(0, 0, -1))):
        with Locations((-370, 130)):
            Rectangle(ESBO_O19_W, ESBO_O19_H)
    extrude(amount=-CORTE_EXTRUS_O5_DEPTH, mode=Mode.SUBTRACT)

    # Esboço21 → Ressalto-extrusão8 (add, up to next)
    with BuildSketch(Plane.ZY.offset(-700), mode=Mode.PRIVATE) as ressalto_extrus_o8_sk1:
        Polygon((-640, 250), (-350, 250), (-350, 0), (-340, 0), (-340, 260), (-640, 260), align=None)
    ressalto_extrus_o8_tool1 = extrude(ressalto_extrus_o8_sk1.sketch, amount=RESSALTO_EXTRUS_O8_REACH, mode=Mode.PRIVATE) - part.part
    add(ressalto_extrus_o8_tool1.solids().sort_by_distance((700, 253.969887, -495))[0])


solid = part.part
